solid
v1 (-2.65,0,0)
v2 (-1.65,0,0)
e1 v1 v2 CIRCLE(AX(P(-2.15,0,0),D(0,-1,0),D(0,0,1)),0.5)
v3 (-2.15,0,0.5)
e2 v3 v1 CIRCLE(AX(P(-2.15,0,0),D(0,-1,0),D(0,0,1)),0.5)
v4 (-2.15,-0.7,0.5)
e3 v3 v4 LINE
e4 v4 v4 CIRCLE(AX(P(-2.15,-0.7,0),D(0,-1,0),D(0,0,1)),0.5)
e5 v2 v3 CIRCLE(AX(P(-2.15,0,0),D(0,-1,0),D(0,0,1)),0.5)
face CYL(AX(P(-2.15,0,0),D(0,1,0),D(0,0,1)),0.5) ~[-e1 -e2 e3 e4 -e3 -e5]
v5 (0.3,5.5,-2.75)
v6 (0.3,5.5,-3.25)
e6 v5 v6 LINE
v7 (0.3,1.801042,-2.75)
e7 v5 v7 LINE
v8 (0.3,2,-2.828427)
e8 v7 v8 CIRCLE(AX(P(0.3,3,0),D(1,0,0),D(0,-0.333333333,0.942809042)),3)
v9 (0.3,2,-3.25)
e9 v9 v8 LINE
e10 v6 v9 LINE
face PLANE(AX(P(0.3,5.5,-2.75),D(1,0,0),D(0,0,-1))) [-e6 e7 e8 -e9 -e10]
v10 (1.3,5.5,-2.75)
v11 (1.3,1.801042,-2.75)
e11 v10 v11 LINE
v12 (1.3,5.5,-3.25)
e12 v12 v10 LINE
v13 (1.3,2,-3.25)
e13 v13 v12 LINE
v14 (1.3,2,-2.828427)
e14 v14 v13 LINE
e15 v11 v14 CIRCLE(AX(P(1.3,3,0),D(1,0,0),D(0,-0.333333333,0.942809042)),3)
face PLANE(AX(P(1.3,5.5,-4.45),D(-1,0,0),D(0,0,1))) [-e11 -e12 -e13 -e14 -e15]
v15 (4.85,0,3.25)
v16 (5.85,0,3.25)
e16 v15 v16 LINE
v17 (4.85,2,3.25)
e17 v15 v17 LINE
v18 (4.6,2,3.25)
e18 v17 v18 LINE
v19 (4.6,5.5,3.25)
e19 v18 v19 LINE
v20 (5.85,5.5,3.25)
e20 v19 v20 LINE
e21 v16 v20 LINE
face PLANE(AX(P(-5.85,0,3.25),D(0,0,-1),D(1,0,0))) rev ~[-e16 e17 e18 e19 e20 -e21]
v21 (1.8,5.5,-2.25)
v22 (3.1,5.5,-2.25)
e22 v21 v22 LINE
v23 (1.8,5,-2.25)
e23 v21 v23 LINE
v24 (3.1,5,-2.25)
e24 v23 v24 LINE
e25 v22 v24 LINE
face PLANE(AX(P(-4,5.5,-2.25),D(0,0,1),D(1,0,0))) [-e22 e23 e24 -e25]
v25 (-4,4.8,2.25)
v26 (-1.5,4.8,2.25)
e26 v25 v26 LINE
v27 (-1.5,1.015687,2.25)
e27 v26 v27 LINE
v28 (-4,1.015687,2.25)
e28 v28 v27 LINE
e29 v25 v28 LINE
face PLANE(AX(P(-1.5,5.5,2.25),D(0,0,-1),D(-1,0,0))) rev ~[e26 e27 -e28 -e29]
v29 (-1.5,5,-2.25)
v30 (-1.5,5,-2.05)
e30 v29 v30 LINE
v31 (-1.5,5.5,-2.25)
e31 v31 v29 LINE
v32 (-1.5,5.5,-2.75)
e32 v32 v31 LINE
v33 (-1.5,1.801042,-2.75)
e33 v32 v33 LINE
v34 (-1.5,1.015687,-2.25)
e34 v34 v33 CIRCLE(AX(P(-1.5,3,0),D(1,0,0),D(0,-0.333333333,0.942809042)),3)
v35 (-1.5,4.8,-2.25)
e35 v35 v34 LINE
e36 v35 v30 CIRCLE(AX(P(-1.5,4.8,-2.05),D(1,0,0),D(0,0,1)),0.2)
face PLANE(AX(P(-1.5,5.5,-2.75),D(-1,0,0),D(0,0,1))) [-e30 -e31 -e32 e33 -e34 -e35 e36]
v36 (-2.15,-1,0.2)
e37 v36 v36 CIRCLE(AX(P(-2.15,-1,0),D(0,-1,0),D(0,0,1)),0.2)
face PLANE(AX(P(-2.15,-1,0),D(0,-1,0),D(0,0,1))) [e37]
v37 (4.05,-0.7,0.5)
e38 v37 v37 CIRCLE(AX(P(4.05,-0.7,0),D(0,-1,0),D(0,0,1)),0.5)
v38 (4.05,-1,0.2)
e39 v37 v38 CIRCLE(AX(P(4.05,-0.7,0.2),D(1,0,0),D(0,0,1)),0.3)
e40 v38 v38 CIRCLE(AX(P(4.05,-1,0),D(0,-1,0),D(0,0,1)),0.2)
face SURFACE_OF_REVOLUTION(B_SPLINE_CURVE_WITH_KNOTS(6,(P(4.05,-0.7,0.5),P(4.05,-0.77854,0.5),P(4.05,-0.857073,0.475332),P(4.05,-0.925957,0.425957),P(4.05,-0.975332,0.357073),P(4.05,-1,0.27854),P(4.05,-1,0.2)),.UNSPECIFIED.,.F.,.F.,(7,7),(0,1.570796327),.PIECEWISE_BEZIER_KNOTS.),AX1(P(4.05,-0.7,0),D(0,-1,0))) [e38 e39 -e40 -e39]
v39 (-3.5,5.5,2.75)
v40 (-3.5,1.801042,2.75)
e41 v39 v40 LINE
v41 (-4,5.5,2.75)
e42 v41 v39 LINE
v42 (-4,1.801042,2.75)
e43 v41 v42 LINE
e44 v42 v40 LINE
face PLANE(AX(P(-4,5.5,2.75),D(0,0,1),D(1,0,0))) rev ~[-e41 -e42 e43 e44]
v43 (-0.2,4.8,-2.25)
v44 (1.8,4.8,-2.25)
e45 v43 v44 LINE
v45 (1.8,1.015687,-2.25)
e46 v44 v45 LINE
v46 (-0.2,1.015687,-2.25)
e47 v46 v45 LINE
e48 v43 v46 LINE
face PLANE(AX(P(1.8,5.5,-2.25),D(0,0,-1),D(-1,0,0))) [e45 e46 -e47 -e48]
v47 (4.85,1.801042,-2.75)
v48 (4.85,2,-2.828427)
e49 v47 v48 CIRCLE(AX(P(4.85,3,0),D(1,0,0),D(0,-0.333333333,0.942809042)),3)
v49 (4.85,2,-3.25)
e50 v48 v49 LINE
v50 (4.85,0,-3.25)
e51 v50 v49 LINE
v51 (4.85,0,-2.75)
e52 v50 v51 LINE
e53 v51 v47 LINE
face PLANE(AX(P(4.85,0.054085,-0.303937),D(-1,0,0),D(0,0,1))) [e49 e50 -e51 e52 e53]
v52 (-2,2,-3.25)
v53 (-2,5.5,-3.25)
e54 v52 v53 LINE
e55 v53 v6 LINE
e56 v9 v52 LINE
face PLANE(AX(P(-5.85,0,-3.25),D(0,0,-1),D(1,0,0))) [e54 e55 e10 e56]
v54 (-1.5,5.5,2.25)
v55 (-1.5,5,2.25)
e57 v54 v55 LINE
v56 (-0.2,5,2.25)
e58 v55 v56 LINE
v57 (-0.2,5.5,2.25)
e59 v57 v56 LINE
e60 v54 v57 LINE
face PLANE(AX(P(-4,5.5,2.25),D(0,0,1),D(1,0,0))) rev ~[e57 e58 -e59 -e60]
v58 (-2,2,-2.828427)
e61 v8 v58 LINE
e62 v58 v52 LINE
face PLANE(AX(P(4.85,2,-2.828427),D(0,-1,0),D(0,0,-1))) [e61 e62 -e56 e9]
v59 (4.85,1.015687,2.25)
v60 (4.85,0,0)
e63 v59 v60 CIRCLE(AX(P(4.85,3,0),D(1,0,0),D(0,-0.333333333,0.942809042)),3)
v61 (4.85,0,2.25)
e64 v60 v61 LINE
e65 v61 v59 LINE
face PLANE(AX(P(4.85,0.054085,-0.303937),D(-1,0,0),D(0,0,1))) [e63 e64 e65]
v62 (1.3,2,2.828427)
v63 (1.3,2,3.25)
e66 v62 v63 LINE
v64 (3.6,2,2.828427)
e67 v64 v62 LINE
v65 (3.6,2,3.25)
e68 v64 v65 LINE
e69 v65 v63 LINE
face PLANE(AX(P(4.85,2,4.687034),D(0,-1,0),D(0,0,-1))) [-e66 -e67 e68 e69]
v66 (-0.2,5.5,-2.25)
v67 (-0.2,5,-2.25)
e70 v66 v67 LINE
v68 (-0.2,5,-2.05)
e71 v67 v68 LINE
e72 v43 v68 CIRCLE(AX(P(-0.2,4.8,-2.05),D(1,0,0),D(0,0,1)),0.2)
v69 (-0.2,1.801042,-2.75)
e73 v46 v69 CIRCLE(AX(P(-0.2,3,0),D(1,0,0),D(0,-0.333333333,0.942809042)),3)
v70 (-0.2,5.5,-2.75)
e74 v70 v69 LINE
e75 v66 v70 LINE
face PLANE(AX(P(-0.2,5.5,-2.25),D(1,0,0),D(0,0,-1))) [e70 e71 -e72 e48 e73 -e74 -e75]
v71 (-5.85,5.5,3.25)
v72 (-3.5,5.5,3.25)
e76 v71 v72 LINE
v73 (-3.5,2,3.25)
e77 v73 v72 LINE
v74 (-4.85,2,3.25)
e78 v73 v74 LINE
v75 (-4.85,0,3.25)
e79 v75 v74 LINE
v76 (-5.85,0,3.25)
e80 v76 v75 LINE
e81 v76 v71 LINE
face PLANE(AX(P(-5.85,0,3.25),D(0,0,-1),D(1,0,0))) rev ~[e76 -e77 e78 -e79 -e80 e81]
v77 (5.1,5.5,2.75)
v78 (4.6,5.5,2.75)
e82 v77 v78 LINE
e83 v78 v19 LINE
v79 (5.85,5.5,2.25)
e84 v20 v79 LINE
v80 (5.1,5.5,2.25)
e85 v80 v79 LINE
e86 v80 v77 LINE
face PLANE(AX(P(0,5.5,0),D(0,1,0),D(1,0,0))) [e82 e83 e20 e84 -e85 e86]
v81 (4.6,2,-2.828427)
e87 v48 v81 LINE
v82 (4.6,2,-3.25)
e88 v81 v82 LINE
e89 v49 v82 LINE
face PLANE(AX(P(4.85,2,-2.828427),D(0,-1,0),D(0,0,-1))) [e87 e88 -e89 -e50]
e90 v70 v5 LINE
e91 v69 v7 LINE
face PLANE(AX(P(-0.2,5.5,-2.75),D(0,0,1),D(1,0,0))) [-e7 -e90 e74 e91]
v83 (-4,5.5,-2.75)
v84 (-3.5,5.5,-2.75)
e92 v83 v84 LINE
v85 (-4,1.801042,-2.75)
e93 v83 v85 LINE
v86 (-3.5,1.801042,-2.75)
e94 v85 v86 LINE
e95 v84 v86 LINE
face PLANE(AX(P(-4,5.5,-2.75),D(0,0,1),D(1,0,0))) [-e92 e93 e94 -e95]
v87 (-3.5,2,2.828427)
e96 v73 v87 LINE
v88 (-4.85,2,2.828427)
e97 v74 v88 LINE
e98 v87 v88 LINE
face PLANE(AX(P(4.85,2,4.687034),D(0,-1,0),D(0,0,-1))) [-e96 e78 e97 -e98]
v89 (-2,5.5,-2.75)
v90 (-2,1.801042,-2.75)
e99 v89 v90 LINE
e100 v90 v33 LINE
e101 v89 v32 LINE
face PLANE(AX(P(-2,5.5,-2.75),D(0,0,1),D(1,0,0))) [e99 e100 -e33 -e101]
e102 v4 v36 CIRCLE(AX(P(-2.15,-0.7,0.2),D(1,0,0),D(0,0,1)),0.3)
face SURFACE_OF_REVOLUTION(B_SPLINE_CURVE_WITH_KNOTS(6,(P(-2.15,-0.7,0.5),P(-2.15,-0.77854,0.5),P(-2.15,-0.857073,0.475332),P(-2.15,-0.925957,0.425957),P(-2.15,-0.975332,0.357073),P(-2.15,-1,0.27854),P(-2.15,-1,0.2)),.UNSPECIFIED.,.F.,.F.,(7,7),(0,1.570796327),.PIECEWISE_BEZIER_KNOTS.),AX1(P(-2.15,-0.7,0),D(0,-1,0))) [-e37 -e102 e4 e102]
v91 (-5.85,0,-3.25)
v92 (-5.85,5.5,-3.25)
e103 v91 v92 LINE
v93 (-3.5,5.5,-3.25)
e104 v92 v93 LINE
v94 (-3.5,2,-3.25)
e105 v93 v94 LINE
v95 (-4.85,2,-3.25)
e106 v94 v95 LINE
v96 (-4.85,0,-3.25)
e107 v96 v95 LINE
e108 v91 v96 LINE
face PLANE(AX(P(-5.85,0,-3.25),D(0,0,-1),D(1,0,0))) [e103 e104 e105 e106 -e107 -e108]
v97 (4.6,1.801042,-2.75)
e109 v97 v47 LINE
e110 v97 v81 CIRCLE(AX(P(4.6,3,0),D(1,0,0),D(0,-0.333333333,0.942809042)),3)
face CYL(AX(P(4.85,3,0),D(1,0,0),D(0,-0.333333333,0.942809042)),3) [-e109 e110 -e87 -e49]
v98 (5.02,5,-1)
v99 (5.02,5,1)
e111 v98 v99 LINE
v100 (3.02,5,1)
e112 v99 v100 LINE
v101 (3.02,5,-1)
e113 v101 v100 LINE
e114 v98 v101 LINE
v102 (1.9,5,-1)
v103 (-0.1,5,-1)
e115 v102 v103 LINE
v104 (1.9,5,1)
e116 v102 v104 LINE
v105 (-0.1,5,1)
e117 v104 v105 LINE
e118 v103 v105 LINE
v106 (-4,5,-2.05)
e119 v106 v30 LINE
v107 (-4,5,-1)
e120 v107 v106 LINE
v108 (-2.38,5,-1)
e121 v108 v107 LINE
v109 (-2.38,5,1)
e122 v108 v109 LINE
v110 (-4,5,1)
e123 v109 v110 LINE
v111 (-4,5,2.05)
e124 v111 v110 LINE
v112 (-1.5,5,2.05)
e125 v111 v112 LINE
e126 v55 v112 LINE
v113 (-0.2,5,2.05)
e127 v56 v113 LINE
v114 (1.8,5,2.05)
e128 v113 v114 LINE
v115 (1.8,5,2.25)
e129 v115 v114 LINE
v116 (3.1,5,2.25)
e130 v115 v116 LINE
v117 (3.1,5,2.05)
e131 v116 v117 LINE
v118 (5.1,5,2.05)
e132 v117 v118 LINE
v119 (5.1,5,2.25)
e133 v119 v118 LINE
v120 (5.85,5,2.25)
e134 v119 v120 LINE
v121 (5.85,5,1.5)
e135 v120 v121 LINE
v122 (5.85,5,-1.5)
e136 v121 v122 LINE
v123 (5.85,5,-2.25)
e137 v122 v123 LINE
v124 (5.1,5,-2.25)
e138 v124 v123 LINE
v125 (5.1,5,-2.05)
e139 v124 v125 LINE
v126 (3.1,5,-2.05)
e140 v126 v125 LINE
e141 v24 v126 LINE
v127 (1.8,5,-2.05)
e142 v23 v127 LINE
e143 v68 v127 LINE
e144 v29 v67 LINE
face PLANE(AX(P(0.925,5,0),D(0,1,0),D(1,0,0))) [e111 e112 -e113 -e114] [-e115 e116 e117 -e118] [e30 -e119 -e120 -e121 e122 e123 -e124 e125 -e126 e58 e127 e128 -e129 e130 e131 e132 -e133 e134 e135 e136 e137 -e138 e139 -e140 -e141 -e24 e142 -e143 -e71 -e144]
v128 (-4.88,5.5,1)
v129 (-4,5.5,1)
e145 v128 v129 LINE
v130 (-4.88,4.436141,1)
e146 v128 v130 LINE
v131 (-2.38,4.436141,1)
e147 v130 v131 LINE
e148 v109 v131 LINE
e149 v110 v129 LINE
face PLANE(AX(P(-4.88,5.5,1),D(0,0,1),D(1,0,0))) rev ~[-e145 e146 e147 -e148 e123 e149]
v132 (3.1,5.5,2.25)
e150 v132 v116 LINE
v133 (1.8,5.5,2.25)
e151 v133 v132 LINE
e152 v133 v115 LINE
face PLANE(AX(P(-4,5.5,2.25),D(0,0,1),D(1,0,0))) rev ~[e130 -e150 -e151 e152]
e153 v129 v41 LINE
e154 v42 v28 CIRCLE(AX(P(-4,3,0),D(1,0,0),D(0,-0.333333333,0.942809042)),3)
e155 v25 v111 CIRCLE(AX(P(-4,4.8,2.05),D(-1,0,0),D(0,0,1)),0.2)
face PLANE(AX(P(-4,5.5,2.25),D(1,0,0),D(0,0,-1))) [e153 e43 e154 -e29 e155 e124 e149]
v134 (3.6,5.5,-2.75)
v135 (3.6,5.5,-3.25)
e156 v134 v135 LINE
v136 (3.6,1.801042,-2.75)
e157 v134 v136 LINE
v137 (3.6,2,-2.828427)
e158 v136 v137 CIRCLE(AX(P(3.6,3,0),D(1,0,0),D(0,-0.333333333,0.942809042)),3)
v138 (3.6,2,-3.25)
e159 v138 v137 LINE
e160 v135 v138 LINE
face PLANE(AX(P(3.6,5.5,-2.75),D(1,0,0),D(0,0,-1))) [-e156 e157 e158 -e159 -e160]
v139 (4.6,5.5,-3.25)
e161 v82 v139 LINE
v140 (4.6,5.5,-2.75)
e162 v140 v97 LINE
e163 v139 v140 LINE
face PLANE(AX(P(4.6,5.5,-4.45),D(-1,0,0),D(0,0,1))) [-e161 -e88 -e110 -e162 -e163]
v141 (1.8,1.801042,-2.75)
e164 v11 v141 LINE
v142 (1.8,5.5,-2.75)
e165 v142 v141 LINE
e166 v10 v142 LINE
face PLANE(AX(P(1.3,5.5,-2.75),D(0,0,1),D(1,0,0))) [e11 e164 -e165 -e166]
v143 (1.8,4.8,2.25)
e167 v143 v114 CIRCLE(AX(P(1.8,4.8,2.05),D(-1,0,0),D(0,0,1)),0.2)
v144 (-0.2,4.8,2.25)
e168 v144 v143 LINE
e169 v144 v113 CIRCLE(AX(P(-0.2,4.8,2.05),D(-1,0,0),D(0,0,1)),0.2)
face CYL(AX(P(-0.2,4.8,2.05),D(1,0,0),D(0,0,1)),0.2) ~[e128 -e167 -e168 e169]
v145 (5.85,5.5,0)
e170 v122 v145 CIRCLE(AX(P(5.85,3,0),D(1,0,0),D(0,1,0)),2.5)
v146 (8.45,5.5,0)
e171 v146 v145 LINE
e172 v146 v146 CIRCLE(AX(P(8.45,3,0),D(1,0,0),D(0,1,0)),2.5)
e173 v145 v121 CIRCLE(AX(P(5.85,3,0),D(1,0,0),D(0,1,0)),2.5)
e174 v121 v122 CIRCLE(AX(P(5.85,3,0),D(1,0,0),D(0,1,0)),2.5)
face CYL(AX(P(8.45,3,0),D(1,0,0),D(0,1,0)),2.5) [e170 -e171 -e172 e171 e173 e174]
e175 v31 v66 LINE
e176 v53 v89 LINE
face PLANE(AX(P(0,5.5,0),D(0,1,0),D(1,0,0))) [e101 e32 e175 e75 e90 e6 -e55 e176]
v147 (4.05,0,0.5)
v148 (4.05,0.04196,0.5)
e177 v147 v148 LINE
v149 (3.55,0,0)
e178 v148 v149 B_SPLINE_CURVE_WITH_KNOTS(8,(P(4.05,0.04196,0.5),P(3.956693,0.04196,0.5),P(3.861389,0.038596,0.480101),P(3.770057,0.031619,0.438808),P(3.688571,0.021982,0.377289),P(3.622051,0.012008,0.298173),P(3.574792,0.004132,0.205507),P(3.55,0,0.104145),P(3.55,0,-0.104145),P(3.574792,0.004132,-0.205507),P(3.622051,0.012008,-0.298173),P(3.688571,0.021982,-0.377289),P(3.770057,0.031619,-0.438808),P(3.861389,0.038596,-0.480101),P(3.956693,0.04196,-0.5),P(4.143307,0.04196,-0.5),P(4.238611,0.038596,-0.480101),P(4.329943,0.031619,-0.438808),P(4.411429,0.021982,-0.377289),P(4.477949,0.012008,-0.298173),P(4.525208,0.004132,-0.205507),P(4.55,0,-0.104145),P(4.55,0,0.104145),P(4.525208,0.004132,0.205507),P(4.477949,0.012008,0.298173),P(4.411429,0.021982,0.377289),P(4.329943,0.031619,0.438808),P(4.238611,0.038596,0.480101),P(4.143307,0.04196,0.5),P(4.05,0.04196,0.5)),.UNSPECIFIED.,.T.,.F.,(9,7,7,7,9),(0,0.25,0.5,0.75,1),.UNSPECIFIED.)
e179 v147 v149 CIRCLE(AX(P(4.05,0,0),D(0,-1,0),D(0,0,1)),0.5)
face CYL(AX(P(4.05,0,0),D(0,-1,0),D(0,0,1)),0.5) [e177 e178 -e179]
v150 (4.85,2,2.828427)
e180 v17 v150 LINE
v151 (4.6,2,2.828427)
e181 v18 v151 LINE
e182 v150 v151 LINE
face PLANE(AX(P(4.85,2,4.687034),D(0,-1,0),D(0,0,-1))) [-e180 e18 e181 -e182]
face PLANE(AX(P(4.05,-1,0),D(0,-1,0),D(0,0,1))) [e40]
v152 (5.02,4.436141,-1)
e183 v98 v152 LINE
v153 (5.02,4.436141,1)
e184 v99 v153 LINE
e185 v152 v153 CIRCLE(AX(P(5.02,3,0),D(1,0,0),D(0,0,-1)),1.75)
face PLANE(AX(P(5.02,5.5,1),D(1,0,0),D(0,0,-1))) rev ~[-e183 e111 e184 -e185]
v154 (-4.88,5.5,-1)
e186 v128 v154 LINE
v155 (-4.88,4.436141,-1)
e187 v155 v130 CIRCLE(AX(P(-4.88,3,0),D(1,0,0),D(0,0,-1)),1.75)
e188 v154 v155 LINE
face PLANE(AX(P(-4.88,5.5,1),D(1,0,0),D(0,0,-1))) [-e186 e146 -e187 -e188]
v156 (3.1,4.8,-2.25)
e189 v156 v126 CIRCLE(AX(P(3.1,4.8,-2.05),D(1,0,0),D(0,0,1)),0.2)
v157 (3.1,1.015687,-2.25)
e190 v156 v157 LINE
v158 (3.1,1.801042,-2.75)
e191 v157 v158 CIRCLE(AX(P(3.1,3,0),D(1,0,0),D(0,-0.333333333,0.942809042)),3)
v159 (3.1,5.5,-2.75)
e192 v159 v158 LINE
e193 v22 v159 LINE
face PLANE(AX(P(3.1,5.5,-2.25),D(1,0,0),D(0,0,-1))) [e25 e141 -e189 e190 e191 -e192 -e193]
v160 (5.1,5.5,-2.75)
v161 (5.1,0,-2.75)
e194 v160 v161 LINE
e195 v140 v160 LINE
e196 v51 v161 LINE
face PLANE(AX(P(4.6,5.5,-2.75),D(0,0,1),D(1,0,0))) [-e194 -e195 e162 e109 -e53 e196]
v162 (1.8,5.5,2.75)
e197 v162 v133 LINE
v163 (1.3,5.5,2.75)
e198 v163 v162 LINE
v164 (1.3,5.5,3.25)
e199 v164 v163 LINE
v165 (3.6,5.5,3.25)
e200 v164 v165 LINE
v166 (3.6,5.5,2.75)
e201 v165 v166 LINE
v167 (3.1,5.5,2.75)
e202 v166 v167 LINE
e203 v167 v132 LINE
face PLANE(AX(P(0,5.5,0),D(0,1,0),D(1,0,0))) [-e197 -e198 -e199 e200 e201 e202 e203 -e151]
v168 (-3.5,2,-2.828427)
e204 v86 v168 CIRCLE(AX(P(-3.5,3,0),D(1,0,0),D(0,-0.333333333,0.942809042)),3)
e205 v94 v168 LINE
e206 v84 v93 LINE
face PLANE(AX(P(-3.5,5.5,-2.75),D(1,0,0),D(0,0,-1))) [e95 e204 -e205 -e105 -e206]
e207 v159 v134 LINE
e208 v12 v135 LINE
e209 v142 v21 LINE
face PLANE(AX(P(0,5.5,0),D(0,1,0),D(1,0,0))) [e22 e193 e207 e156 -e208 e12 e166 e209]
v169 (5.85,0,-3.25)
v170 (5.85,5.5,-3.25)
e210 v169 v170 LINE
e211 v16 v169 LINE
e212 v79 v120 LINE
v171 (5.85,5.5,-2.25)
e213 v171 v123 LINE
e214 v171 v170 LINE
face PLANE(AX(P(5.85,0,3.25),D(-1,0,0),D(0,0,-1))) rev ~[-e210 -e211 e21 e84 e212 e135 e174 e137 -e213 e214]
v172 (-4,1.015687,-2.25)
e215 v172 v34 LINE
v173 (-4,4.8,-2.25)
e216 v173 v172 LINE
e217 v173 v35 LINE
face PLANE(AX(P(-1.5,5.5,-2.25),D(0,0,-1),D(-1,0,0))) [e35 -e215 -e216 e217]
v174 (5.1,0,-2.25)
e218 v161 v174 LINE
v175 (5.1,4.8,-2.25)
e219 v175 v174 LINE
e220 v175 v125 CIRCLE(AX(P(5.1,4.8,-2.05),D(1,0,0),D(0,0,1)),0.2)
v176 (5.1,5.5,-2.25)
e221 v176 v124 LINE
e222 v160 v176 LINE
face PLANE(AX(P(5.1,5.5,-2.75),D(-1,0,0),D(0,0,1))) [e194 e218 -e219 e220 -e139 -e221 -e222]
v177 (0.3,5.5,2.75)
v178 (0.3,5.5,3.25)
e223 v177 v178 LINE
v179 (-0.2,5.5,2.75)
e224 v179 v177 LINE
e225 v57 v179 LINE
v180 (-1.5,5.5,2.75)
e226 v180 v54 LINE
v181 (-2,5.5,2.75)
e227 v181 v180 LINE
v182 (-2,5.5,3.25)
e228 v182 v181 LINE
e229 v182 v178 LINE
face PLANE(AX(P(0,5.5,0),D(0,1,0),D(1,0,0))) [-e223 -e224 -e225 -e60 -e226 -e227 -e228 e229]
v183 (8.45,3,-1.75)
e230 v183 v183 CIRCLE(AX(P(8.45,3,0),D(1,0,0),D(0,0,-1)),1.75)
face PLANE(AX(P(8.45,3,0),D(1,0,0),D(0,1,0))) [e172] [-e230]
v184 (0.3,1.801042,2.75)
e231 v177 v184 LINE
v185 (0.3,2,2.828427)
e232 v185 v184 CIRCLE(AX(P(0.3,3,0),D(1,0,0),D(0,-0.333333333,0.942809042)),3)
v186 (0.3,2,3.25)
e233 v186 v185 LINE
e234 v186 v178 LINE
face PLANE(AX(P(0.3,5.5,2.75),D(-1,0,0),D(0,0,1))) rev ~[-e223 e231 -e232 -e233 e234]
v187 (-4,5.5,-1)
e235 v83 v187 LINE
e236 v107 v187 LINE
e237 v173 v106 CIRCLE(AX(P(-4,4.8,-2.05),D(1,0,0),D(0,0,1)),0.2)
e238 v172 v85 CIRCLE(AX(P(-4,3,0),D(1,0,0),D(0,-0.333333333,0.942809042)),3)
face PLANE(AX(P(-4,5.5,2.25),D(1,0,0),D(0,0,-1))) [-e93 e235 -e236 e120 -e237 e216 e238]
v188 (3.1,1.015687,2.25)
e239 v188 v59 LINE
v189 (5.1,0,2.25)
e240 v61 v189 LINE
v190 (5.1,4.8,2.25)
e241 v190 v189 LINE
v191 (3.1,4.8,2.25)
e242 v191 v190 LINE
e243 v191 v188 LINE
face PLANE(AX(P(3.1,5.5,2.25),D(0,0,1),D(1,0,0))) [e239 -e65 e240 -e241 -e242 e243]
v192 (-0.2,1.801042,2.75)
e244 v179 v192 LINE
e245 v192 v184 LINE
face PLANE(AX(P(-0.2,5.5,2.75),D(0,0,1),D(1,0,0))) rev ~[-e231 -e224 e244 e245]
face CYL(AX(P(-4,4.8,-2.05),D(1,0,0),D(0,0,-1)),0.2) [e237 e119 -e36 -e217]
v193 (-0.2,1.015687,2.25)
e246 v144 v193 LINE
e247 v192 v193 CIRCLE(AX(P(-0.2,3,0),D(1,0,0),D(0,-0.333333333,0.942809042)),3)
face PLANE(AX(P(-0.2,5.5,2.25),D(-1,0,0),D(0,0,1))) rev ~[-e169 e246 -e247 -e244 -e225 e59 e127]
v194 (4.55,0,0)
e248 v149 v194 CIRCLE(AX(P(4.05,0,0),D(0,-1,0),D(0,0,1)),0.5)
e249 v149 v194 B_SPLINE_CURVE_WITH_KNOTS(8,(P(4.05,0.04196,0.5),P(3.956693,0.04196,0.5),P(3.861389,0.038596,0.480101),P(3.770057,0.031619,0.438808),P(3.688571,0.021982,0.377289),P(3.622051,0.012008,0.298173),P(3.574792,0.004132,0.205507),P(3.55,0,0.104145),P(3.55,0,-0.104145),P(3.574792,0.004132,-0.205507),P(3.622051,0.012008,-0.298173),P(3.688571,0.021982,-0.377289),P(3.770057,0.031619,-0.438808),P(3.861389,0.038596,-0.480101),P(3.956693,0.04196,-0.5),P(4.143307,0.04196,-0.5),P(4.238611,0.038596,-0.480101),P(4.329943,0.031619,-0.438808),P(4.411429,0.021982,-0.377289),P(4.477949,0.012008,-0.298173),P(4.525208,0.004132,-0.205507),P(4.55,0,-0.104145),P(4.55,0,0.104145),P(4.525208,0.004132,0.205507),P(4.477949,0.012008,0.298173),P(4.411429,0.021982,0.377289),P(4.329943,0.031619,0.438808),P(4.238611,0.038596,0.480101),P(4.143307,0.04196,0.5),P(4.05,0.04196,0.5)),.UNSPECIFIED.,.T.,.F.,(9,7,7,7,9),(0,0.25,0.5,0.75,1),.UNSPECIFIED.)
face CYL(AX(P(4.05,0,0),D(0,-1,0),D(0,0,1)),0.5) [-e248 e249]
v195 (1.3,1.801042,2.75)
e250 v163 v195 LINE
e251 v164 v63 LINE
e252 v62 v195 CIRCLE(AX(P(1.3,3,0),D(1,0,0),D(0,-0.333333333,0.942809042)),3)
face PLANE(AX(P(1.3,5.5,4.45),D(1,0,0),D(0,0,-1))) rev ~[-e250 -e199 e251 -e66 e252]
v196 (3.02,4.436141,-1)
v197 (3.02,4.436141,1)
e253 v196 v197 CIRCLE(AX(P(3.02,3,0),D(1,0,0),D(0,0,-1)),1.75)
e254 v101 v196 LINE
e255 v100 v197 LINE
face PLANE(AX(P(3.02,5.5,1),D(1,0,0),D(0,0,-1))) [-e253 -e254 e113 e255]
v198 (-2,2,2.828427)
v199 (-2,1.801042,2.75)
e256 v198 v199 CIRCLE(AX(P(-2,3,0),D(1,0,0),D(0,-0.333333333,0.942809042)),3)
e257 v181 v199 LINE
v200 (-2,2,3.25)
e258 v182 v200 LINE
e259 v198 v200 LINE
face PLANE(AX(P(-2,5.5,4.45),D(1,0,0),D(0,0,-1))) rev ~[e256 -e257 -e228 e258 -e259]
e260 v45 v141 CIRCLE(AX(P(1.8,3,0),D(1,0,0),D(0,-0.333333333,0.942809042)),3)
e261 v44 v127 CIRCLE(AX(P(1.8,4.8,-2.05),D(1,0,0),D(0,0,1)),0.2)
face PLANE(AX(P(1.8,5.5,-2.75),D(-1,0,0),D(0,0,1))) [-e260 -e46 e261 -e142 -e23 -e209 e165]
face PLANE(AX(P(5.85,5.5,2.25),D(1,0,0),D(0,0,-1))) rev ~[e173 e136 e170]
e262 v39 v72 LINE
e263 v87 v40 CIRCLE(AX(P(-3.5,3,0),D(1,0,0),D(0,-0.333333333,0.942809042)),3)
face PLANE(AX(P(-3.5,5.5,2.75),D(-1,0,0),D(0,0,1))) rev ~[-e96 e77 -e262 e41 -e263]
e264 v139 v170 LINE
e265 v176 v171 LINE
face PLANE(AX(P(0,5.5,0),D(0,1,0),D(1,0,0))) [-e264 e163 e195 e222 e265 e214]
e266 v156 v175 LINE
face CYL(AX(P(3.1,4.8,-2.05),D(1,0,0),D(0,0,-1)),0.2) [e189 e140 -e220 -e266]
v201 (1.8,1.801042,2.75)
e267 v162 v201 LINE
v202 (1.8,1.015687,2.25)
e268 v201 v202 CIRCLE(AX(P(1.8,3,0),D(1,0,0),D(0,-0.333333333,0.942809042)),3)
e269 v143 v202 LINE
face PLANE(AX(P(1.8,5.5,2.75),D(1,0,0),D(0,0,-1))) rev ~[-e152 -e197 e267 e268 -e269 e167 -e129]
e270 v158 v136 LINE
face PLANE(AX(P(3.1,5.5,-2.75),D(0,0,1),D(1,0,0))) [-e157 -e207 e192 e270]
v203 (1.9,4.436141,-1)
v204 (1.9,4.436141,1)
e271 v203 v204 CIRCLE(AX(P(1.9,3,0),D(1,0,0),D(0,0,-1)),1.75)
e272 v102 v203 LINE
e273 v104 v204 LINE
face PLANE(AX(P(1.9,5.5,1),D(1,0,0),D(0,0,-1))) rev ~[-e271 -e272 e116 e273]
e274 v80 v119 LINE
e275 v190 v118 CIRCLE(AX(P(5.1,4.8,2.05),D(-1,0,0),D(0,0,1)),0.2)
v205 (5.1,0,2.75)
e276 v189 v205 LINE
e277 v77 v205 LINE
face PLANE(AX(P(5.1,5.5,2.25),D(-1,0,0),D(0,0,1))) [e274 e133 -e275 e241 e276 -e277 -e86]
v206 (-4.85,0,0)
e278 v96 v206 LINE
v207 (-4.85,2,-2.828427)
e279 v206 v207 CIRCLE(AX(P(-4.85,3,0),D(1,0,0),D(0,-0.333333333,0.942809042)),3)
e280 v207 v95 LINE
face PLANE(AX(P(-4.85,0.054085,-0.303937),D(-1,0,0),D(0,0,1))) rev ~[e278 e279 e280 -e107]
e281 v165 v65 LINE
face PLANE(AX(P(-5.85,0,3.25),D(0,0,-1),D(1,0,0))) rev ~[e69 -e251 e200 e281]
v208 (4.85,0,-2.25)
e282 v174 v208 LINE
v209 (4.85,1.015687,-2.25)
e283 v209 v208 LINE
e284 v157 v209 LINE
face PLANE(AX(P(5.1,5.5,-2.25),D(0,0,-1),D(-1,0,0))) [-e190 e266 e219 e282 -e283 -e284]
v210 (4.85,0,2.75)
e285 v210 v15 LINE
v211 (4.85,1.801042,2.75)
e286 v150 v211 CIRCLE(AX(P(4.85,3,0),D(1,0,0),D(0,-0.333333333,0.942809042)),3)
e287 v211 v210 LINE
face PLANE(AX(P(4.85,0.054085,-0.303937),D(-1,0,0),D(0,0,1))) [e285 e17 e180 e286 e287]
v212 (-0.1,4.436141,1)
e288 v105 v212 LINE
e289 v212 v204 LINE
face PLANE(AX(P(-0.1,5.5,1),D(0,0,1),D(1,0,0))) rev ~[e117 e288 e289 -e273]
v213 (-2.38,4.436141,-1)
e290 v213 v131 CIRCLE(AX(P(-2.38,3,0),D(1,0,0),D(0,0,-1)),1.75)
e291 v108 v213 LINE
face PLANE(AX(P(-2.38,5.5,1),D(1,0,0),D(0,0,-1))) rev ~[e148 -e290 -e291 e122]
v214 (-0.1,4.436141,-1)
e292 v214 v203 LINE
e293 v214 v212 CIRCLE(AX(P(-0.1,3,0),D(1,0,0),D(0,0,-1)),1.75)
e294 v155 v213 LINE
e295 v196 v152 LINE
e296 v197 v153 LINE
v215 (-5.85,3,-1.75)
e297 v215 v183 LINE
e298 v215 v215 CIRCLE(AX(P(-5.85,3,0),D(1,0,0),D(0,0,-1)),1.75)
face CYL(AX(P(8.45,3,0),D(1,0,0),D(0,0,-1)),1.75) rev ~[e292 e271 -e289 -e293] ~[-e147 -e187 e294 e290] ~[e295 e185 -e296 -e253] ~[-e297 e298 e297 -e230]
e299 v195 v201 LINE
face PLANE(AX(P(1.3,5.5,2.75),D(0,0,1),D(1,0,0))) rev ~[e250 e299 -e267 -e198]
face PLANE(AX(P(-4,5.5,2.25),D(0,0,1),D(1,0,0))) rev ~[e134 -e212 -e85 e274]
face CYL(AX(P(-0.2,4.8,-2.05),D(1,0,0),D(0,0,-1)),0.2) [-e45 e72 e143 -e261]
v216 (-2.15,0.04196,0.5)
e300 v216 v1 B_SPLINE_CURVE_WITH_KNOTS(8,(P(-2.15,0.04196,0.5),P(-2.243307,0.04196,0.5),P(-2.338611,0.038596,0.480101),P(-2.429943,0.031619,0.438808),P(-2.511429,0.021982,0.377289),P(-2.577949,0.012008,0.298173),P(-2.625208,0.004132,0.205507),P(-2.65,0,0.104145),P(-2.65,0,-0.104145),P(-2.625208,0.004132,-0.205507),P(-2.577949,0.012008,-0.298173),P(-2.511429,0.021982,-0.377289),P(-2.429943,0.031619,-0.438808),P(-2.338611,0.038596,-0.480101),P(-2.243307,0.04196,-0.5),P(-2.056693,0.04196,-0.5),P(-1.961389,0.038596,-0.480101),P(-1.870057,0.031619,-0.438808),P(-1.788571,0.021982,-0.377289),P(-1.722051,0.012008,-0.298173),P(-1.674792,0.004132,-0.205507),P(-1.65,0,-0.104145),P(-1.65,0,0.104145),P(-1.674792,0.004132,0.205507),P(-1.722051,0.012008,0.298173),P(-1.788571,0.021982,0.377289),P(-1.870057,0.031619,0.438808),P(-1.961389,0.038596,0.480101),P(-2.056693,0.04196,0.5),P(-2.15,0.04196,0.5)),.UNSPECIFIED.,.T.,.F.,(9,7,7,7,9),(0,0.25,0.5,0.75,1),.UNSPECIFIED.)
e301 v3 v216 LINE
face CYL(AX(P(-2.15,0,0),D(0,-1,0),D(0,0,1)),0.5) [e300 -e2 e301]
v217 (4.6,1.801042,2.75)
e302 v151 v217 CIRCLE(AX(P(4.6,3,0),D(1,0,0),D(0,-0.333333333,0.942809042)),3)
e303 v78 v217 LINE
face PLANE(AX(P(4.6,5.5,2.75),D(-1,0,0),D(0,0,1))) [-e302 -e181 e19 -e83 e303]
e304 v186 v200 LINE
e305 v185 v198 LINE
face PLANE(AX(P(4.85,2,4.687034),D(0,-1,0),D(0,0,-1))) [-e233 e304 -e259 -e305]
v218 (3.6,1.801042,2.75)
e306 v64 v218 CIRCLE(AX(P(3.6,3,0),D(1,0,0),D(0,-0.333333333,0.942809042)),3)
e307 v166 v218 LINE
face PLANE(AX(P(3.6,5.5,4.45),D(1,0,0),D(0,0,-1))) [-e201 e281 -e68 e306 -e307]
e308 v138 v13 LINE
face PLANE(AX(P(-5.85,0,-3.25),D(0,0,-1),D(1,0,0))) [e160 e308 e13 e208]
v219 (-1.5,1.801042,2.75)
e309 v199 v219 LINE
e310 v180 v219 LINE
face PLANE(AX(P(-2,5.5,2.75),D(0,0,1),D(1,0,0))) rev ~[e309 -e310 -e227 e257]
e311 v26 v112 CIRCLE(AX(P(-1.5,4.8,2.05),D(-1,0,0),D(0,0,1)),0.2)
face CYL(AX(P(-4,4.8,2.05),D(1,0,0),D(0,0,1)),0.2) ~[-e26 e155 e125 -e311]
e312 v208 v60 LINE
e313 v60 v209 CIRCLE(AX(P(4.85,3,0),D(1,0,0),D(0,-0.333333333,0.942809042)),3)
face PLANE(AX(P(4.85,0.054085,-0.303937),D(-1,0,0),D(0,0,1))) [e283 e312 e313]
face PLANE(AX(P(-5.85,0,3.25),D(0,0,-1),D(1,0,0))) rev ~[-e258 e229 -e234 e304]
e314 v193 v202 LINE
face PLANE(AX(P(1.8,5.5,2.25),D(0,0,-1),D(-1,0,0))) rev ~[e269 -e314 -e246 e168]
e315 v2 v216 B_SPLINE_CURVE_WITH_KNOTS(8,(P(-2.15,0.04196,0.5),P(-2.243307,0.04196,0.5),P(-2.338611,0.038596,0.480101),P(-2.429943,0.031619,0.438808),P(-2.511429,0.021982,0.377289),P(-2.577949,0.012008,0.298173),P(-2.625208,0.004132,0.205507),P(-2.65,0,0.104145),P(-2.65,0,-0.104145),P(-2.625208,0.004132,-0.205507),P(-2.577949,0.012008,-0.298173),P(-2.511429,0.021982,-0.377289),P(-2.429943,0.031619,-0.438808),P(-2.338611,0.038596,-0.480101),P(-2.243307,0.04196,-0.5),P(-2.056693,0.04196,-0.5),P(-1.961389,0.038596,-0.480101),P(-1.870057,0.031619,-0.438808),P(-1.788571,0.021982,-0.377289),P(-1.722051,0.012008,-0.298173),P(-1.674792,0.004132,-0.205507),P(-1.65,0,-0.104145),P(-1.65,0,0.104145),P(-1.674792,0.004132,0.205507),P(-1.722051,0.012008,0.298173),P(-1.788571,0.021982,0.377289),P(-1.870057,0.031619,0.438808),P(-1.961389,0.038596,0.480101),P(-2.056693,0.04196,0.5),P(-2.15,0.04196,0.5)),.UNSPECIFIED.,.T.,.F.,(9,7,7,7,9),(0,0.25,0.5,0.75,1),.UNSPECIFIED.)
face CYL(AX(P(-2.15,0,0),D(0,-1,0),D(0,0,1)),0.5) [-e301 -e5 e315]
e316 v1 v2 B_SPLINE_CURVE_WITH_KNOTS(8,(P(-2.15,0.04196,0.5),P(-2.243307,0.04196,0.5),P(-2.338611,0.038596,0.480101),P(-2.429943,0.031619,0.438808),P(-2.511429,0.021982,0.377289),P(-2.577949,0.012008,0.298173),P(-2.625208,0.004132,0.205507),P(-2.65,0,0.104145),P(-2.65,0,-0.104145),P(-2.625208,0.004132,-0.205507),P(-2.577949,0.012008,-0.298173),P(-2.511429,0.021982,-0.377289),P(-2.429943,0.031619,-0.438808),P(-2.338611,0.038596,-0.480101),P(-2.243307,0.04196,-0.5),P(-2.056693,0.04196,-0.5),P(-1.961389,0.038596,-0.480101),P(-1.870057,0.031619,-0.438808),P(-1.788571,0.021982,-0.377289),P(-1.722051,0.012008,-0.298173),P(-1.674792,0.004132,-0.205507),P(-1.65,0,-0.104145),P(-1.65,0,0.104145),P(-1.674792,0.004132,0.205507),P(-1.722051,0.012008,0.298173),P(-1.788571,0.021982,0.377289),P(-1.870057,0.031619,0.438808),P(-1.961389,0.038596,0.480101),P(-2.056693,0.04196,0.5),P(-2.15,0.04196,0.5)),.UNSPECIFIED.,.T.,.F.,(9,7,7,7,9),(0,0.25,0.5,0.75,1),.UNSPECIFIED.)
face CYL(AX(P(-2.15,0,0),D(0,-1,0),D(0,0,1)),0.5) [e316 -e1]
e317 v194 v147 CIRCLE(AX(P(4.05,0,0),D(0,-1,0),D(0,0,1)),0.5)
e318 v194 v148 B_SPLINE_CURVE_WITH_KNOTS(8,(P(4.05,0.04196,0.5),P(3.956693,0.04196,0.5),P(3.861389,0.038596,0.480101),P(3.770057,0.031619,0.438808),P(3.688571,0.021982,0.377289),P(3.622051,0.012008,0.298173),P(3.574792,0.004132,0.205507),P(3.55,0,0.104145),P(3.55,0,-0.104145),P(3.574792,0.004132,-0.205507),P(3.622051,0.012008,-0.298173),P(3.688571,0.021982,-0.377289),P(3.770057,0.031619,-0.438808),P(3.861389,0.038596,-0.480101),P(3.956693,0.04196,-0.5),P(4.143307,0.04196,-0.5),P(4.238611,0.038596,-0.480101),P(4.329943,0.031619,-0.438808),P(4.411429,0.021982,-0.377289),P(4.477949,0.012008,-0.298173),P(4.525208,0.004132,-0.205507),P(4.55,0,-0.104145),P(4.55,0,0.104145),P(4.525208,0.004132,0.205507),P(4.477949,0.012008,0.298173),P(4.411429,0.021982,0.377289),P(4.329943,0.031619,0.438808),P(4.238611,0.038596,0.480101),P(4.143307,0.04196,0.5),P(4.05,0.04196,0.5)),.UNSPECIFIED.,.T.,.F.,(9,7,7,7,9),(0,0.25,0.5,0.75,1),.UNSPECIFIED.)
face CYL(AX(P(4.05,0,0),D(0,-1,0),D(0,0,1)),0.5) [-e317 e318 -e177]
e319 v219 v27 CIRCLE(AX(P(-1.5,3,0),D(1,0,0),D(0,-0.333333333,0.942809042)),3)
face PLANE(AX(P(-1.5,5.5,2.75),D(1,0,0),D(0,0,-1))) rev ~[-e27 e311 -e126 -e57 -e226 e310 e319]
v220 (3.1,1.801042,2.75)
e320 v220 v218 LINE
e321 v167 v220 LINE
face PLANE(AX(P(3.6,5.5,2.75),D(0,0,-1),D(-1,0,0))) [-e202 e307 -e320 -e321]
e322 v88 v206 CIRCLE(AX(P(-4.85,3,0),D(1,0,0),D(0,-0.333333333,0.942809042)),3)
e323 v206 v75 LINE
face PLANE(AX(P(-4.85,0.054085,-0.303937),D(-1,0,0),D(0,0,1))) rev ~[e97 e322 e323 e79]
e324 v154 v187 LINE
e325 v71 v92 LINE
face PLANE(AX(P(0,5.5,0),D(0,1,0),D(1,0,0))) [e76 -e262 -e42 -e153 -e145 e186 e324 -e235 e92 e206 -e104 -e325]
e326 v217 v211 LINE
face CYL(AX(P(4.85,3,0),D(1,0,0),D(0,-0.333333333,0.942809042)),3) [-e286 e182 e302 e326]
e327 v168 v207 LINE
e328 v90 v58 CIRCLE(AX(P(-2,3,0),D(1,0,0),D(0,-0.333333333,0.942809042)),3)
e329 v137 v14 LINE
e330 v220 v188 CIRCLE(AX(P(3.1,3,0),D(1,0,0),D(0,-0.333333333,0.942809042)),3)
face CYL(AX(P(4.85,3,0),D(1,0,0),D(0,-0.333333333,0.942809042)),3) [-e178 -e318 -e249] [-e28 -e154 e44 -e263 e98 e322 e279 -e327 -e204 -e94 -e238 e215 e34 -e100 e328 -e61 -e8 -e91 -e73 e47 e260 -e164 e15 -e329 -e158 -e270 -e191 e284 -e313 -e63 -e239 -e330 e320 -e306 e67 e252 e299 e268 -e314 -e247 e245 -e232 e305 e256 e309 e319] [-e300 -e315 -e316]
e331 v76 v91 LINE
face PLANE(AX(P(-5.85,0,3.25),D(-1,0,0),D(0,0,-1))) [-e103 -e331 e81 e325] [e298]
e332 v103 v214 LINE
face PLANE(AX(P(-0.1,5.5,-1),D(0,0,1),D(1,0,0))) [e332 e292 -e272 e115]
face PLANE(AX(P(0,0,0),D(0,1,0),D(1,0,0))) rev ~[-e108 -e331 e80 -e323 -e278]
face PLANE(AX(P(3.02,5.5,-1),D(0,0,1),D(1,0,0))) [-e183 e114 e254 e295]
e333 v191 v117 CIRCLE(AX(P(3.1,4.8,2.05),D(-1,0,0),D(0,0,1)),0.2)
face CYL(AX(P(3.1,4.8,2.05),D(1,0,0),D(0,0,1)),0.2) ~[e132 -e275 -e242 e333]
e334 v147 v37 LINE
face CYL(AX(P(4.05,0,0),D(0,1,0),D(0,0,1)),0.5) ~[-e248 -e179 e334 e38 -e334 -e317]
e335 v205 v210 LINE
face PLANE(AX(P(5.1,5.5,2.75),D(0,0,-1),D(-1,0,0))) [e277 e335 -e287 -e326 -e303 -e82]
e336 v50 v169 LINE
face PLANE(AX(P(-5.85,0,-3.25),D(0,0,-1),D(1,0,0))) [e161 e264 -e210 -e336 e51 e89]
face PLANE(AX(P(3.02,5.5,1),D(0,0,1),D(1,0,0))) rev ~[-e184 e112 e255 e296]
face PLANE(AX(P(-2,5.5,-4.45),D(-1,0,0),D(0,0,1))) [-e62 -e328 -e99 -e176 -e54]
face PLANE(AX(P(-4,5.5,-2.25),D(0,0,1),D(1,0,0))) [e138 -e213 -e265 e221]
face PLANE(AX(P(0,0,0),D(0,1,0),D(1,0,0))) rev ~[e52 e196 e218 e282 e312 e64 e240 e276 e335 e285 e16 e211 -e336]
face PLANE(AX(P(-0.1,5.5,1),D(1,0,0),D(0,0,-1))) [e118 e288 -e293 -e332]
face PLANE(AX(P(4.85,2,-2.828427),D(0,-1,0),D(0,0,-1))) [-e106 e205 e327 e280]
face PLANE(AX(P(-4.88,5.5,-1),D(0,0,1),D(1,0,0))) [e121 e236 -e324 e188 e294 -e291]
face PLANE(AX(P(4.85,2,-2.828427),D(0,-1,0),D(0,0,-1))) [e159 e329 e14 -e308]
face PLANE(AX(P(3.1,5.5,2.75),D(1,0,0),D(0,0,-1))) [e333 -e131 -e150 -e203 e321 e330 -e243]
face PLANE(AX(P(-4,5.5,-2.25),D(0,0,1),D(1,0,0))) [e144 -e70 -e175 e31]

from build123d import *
from build123d.topology import SkipClean

# Parameters (mm, degrees)
SKETCH1_W                            = 11.7
SKETCH1_H                            = 6.5
BOSS_EXTRUDE1_DEPTH                  = 5.5
SKETCH2_R                            = 1.75
CUT_EXTRUDE1_DEPTH                   = 15.5
BOSS_EXTRUDE2_START                  = 2.6
SKETCH3_R                            = 2.5
SKETCH3_R_2                          = 1.75
BOSS_EXTRUDE2_DEPTH                  = 2.6
CUT_EXTRUDE2_START                   = -1
CUT_EXTRUDE2_DEPTH                   = 9.7
CUT_EXTRUDE3_DEPTH                   = 10
SKETCH6_W                            = 2.5
SKETCH6_H                            = 2
SKETCH6_W_2                          = 2
CUT_EXTRUDE4_DEPTH                   = 2
SKETCH7_W                            = 9.85
SKETCH7_H                            = 4.5
CUT_EXTRUDE5_DEPTH                   = 0.5
FILLET1_R                            = 0.2
SKETCH8_R                            = 0.5
BOSS_EXTRUDE3_DEPTH                  = 1
BOSS_EXTRUDE3_DIRECTION_2_REACH      = 12.593
BOSS_EXTRUDE3_DIRECTION_2_END_RADIUS = 3
FILLET2_R                            = 0.3


with BuildPart() as part:
    # Sketch1 → Boss-Extrude1 (new body)
    with BuildSketch(Plane(origin=(0, 0, 0), x_dir=(1, 0, 0), z_dir=(0, 1, 0))):
        Rectangle(SKETCH1_W, SKETCH1_H)
    extrude(amount=BOSS_EXTRUDE1_DEPTH)

    # Sketch2 → Cut-Extrude1 (cut)
    with BuildSketch(Plane(origin=(5.85, 0, 0), x_dir=(0, 0, -1), z_dir=(1, 0, 0))):
        with Locations((0, 3)):
            Circle(SKETCH2_R)
    extrude(amount=-CUT_EXTRUDE1_DEPTH, mode=Mode.SUBTRACT)

    # Sketch3 → Boss-Extrude2 (add)
    with BuildSketch(Plane(origin=(5.85, 0, 0), x_dir=(0, 0, -1), z_dir=(1, 0, 0)).offset(BOSS_EXTRUDE2_START)):
        with Locations(Location((0, 3, 0), (0, 0, 90))):
            Circle(SKETCH3_R)
        with Locations((0, 3)):
            Circle(SKETCH3_R_2, mode=Mode.SUBTRACT)
    extrude(amount=-BOSS_EXTRUDE2_DEPTH)

    # Sketch4 → Cut-Extrude2 (cut)
    with BuildSketch(Plane(origin=(5.85, 0, 0), x_dir=(0, 0, -1), z_dir=(1, 0, 0)).offset(CUT_EXTRUDE2_START)):
        with BuildLine():
            Line((-4.687033743, 2), (-2.828427125, 2))
            ThreePointArc((-2.828427125, 2), (0, 0), (2.828427125, 2))
            Line((2.828427125, 2), (5.329187563, 2))
            Line((5.329187563, 2), (5.329187563, -1.490759496))
            Line((5.329187563, -1.490759496), (-4.687033743, -1.490759496))
            Line((-4.687033743, -1.490759496), (-4.687033743, 2))
        make_face()
    extrude(amount=-CUT_EXTRUDE2_DEPTH, mode=Mode.SUBTRACT)

    # Sketch5 → Cut-Extrude3 (cut)
    with BuildSketch(Plane(origin=(0, 5.5, 0), x_dir=(1, 0, 0), z_dir=(0, 1, 0))):
        Polygon((-3.5, 4.45), (-2, 4.45), (-2, 2.75), (-1.5, 2.75), (-1.5, 2.25), (-4, 2.25), (-4, 2.75), (-3.5, 2.75), align=None)
        Polygon((0.3, 4.45), (1.3, 4.45), (1.3, 2.75), (1.8, 2.75), (1.8, 2.25), (-0.2, 2.25), (-0.2, 2.75), (0.3, 2.75), align=None)
        Polygon((3.6, 4.45), (4.6, 4.45), (4.6, 2.75), (5.1, 2.75), (5.1, 2.25), (3.1, 2.25), (3.1, 2.75), (3.6, 2.75), align=None)
        Polygon((1.3, -2.75), (1.8, -2.75), (1.8, -2.25), (-0.2, -2.25), (-0.2, -2.75), (0.3, -2.75), (0.3, -4.45), (1.3, -4.45), align=None)
        Polygon((-2, -2.75), (-1.5, -2.75), (-1.5, -2.25), (-4, -2.25), (-4, -2.75), (-3.5, -2.75), (-3.5, -4.45), (-2, -4.45), align=None)
        Polygon((5.1, -2.25), (5.1, -2.75), (4.6, -2.75), (4.6, -4.45), (3.6, -4.45), (3.6, -2.75), (3.1, -2.75), (3.1, -2.25), align=None)
    extrude(amount=-CUT_EXTRUDE3_DEPTH, mode=Mode.SUBTRACT)

    # Sketch6 → Cut-Extrude4 (cut)
    with BuildSketch(Plane(origin=(0, 5.5, 0), x_dir=(1, 0, 0), z_dir=(0, 1, 0))):
        with Locations((-3.63, 0)):
            Rectangle(SKETCH6_W, SKETCH6_H)
        with Locations((0.9, 0)):
            Rectangle(SKETCH6_W_2, SKETCH6_H)
        with Locations((4.02, 0)):
            Rectangle(SKETCH6_W_2, SKETCH6_H)
    extrude(amount=-CUT_EXTRUDE4_DEPTH, mode=Mode.SUBTRACT)

    # Sketch7 → Cut-Extrude5 (cut)
    with BuildSketch(Plane(origin=(0, 5.5, 0), x_dir=(1, 0, 0), z_dir=(0, 1, 0))):
        with Locations((0.925, 0)):
            Rectangle(SKETCH7_W, SKETCH7_H)
    extrude(amount=-CUT_EXTRUDE5_DEPTH, mode=Mode.SUBTRACT)

    # Fillet1
    fillet1_edges = [part.edges().sort_by_distance(p)[0] for p in [
        (-2.75, 5, -2.25),
        (0.8, 5, -2.25),
        (4.1, 5, 2.25),
        (0.8, 5, 2.25),
        (-2.75, 5, 2.25),
        (4.1, 5, -2.25),
    ]]
    fillet(fillet1_edges, radius=FILLET1_R)

    # Sketch8 → Boss-Extrude3 (add)
    with BuildSketch(Plane.XZ):
        with Locations(Location((4.05, 0, 0), (0, 0, 90))):
            Circle(SKETCH8_R)
        with Locations(Location((-2.15, 0, 0), (0, 0, 90))):
            Circle(SKETCH8_R)
    extrude(amount=BOSS_EXTRUDE3_DEPTH)

    # Boss-Extrude3 direction 2: up to this cylinder (the profile starts outside it)
    with SkipClean():  # the faces are left unmerged after this step: merging them gives an invalid solid
        boss_extrude3_direction_2_end = Plane(origin=(0.95, 3, 0), z_dir=(1, 0, 0)) * Cylinder(BOSS_EXTRUDE3_DIRECTION_2_END_RADIUS, 38.386, mode=Mode.PRIVATE)
        # Sketch8 → Boss-Extrude3 direction 2 (add, up to the surface)
        with BuildSketch(Plane.XZ, mode=Mode.PRIVATE) as boss_extrude3_direction_2_sk1:
            with Locations(Location((4.05, 0, 0), (0, 0, 90))):
                Circle(SKETCH8_R)
        boss_extrude3_direction_2_tool1 = extrude(boss_extrude3_direction_2_sk1.sketch, amount=-BOSS_EXTRUDE3_DIRECTION_2_REACH, mode=Mode.PRIVATE) - boss_extrude3_direction_2_end
        add(boss_extrude3_direction_2_tool1.solids().sort_by_distance((4.05, 0, 0))[0])
        add(boss_extrude3_direction_2_tool1.solids().sort_by_distance((4.05, 0, 0))[1])
        # Sketch8 → Boss-Extrude3 direction 2 (add, up to the surface)
        with BuildSketch(Plane.XZ, mode=Mode.PRIVATE) as boss_extrude3_direction_2_sk2:
            with Locations(Location((-2.15, 0, 0), (0, 0, 90))):
                Circle(SKETCH8_R)
        boss_extrude3_direction_2_tool2 = extrude(boss_extrude3_direction_2_sk2.sketch, amount=-BOSS_EXTRUDE3_DIRECTION_2_REACH, mode=Mode.PRIVATE) - boss_extrude3_direction_2_end
        add(boss_extrude3_direction_2_tool2.solids().sort_by_distance((-2.15, 0, 0))[0])
        add(boss_extrude3_direction_2_tool2.solids().sort_by_distance((-2.15, 0, 0))[1])

    # Fillet2
    fillet2_edges = [part.edges().sort_by_distance(p)[0] for p in [
        (4.05, -1, -0.5),
        (-2.15, -1, -0.5),
    ]]
    fillet(fillet2_edges, radius=FILLET2_R)


solid = part.part
